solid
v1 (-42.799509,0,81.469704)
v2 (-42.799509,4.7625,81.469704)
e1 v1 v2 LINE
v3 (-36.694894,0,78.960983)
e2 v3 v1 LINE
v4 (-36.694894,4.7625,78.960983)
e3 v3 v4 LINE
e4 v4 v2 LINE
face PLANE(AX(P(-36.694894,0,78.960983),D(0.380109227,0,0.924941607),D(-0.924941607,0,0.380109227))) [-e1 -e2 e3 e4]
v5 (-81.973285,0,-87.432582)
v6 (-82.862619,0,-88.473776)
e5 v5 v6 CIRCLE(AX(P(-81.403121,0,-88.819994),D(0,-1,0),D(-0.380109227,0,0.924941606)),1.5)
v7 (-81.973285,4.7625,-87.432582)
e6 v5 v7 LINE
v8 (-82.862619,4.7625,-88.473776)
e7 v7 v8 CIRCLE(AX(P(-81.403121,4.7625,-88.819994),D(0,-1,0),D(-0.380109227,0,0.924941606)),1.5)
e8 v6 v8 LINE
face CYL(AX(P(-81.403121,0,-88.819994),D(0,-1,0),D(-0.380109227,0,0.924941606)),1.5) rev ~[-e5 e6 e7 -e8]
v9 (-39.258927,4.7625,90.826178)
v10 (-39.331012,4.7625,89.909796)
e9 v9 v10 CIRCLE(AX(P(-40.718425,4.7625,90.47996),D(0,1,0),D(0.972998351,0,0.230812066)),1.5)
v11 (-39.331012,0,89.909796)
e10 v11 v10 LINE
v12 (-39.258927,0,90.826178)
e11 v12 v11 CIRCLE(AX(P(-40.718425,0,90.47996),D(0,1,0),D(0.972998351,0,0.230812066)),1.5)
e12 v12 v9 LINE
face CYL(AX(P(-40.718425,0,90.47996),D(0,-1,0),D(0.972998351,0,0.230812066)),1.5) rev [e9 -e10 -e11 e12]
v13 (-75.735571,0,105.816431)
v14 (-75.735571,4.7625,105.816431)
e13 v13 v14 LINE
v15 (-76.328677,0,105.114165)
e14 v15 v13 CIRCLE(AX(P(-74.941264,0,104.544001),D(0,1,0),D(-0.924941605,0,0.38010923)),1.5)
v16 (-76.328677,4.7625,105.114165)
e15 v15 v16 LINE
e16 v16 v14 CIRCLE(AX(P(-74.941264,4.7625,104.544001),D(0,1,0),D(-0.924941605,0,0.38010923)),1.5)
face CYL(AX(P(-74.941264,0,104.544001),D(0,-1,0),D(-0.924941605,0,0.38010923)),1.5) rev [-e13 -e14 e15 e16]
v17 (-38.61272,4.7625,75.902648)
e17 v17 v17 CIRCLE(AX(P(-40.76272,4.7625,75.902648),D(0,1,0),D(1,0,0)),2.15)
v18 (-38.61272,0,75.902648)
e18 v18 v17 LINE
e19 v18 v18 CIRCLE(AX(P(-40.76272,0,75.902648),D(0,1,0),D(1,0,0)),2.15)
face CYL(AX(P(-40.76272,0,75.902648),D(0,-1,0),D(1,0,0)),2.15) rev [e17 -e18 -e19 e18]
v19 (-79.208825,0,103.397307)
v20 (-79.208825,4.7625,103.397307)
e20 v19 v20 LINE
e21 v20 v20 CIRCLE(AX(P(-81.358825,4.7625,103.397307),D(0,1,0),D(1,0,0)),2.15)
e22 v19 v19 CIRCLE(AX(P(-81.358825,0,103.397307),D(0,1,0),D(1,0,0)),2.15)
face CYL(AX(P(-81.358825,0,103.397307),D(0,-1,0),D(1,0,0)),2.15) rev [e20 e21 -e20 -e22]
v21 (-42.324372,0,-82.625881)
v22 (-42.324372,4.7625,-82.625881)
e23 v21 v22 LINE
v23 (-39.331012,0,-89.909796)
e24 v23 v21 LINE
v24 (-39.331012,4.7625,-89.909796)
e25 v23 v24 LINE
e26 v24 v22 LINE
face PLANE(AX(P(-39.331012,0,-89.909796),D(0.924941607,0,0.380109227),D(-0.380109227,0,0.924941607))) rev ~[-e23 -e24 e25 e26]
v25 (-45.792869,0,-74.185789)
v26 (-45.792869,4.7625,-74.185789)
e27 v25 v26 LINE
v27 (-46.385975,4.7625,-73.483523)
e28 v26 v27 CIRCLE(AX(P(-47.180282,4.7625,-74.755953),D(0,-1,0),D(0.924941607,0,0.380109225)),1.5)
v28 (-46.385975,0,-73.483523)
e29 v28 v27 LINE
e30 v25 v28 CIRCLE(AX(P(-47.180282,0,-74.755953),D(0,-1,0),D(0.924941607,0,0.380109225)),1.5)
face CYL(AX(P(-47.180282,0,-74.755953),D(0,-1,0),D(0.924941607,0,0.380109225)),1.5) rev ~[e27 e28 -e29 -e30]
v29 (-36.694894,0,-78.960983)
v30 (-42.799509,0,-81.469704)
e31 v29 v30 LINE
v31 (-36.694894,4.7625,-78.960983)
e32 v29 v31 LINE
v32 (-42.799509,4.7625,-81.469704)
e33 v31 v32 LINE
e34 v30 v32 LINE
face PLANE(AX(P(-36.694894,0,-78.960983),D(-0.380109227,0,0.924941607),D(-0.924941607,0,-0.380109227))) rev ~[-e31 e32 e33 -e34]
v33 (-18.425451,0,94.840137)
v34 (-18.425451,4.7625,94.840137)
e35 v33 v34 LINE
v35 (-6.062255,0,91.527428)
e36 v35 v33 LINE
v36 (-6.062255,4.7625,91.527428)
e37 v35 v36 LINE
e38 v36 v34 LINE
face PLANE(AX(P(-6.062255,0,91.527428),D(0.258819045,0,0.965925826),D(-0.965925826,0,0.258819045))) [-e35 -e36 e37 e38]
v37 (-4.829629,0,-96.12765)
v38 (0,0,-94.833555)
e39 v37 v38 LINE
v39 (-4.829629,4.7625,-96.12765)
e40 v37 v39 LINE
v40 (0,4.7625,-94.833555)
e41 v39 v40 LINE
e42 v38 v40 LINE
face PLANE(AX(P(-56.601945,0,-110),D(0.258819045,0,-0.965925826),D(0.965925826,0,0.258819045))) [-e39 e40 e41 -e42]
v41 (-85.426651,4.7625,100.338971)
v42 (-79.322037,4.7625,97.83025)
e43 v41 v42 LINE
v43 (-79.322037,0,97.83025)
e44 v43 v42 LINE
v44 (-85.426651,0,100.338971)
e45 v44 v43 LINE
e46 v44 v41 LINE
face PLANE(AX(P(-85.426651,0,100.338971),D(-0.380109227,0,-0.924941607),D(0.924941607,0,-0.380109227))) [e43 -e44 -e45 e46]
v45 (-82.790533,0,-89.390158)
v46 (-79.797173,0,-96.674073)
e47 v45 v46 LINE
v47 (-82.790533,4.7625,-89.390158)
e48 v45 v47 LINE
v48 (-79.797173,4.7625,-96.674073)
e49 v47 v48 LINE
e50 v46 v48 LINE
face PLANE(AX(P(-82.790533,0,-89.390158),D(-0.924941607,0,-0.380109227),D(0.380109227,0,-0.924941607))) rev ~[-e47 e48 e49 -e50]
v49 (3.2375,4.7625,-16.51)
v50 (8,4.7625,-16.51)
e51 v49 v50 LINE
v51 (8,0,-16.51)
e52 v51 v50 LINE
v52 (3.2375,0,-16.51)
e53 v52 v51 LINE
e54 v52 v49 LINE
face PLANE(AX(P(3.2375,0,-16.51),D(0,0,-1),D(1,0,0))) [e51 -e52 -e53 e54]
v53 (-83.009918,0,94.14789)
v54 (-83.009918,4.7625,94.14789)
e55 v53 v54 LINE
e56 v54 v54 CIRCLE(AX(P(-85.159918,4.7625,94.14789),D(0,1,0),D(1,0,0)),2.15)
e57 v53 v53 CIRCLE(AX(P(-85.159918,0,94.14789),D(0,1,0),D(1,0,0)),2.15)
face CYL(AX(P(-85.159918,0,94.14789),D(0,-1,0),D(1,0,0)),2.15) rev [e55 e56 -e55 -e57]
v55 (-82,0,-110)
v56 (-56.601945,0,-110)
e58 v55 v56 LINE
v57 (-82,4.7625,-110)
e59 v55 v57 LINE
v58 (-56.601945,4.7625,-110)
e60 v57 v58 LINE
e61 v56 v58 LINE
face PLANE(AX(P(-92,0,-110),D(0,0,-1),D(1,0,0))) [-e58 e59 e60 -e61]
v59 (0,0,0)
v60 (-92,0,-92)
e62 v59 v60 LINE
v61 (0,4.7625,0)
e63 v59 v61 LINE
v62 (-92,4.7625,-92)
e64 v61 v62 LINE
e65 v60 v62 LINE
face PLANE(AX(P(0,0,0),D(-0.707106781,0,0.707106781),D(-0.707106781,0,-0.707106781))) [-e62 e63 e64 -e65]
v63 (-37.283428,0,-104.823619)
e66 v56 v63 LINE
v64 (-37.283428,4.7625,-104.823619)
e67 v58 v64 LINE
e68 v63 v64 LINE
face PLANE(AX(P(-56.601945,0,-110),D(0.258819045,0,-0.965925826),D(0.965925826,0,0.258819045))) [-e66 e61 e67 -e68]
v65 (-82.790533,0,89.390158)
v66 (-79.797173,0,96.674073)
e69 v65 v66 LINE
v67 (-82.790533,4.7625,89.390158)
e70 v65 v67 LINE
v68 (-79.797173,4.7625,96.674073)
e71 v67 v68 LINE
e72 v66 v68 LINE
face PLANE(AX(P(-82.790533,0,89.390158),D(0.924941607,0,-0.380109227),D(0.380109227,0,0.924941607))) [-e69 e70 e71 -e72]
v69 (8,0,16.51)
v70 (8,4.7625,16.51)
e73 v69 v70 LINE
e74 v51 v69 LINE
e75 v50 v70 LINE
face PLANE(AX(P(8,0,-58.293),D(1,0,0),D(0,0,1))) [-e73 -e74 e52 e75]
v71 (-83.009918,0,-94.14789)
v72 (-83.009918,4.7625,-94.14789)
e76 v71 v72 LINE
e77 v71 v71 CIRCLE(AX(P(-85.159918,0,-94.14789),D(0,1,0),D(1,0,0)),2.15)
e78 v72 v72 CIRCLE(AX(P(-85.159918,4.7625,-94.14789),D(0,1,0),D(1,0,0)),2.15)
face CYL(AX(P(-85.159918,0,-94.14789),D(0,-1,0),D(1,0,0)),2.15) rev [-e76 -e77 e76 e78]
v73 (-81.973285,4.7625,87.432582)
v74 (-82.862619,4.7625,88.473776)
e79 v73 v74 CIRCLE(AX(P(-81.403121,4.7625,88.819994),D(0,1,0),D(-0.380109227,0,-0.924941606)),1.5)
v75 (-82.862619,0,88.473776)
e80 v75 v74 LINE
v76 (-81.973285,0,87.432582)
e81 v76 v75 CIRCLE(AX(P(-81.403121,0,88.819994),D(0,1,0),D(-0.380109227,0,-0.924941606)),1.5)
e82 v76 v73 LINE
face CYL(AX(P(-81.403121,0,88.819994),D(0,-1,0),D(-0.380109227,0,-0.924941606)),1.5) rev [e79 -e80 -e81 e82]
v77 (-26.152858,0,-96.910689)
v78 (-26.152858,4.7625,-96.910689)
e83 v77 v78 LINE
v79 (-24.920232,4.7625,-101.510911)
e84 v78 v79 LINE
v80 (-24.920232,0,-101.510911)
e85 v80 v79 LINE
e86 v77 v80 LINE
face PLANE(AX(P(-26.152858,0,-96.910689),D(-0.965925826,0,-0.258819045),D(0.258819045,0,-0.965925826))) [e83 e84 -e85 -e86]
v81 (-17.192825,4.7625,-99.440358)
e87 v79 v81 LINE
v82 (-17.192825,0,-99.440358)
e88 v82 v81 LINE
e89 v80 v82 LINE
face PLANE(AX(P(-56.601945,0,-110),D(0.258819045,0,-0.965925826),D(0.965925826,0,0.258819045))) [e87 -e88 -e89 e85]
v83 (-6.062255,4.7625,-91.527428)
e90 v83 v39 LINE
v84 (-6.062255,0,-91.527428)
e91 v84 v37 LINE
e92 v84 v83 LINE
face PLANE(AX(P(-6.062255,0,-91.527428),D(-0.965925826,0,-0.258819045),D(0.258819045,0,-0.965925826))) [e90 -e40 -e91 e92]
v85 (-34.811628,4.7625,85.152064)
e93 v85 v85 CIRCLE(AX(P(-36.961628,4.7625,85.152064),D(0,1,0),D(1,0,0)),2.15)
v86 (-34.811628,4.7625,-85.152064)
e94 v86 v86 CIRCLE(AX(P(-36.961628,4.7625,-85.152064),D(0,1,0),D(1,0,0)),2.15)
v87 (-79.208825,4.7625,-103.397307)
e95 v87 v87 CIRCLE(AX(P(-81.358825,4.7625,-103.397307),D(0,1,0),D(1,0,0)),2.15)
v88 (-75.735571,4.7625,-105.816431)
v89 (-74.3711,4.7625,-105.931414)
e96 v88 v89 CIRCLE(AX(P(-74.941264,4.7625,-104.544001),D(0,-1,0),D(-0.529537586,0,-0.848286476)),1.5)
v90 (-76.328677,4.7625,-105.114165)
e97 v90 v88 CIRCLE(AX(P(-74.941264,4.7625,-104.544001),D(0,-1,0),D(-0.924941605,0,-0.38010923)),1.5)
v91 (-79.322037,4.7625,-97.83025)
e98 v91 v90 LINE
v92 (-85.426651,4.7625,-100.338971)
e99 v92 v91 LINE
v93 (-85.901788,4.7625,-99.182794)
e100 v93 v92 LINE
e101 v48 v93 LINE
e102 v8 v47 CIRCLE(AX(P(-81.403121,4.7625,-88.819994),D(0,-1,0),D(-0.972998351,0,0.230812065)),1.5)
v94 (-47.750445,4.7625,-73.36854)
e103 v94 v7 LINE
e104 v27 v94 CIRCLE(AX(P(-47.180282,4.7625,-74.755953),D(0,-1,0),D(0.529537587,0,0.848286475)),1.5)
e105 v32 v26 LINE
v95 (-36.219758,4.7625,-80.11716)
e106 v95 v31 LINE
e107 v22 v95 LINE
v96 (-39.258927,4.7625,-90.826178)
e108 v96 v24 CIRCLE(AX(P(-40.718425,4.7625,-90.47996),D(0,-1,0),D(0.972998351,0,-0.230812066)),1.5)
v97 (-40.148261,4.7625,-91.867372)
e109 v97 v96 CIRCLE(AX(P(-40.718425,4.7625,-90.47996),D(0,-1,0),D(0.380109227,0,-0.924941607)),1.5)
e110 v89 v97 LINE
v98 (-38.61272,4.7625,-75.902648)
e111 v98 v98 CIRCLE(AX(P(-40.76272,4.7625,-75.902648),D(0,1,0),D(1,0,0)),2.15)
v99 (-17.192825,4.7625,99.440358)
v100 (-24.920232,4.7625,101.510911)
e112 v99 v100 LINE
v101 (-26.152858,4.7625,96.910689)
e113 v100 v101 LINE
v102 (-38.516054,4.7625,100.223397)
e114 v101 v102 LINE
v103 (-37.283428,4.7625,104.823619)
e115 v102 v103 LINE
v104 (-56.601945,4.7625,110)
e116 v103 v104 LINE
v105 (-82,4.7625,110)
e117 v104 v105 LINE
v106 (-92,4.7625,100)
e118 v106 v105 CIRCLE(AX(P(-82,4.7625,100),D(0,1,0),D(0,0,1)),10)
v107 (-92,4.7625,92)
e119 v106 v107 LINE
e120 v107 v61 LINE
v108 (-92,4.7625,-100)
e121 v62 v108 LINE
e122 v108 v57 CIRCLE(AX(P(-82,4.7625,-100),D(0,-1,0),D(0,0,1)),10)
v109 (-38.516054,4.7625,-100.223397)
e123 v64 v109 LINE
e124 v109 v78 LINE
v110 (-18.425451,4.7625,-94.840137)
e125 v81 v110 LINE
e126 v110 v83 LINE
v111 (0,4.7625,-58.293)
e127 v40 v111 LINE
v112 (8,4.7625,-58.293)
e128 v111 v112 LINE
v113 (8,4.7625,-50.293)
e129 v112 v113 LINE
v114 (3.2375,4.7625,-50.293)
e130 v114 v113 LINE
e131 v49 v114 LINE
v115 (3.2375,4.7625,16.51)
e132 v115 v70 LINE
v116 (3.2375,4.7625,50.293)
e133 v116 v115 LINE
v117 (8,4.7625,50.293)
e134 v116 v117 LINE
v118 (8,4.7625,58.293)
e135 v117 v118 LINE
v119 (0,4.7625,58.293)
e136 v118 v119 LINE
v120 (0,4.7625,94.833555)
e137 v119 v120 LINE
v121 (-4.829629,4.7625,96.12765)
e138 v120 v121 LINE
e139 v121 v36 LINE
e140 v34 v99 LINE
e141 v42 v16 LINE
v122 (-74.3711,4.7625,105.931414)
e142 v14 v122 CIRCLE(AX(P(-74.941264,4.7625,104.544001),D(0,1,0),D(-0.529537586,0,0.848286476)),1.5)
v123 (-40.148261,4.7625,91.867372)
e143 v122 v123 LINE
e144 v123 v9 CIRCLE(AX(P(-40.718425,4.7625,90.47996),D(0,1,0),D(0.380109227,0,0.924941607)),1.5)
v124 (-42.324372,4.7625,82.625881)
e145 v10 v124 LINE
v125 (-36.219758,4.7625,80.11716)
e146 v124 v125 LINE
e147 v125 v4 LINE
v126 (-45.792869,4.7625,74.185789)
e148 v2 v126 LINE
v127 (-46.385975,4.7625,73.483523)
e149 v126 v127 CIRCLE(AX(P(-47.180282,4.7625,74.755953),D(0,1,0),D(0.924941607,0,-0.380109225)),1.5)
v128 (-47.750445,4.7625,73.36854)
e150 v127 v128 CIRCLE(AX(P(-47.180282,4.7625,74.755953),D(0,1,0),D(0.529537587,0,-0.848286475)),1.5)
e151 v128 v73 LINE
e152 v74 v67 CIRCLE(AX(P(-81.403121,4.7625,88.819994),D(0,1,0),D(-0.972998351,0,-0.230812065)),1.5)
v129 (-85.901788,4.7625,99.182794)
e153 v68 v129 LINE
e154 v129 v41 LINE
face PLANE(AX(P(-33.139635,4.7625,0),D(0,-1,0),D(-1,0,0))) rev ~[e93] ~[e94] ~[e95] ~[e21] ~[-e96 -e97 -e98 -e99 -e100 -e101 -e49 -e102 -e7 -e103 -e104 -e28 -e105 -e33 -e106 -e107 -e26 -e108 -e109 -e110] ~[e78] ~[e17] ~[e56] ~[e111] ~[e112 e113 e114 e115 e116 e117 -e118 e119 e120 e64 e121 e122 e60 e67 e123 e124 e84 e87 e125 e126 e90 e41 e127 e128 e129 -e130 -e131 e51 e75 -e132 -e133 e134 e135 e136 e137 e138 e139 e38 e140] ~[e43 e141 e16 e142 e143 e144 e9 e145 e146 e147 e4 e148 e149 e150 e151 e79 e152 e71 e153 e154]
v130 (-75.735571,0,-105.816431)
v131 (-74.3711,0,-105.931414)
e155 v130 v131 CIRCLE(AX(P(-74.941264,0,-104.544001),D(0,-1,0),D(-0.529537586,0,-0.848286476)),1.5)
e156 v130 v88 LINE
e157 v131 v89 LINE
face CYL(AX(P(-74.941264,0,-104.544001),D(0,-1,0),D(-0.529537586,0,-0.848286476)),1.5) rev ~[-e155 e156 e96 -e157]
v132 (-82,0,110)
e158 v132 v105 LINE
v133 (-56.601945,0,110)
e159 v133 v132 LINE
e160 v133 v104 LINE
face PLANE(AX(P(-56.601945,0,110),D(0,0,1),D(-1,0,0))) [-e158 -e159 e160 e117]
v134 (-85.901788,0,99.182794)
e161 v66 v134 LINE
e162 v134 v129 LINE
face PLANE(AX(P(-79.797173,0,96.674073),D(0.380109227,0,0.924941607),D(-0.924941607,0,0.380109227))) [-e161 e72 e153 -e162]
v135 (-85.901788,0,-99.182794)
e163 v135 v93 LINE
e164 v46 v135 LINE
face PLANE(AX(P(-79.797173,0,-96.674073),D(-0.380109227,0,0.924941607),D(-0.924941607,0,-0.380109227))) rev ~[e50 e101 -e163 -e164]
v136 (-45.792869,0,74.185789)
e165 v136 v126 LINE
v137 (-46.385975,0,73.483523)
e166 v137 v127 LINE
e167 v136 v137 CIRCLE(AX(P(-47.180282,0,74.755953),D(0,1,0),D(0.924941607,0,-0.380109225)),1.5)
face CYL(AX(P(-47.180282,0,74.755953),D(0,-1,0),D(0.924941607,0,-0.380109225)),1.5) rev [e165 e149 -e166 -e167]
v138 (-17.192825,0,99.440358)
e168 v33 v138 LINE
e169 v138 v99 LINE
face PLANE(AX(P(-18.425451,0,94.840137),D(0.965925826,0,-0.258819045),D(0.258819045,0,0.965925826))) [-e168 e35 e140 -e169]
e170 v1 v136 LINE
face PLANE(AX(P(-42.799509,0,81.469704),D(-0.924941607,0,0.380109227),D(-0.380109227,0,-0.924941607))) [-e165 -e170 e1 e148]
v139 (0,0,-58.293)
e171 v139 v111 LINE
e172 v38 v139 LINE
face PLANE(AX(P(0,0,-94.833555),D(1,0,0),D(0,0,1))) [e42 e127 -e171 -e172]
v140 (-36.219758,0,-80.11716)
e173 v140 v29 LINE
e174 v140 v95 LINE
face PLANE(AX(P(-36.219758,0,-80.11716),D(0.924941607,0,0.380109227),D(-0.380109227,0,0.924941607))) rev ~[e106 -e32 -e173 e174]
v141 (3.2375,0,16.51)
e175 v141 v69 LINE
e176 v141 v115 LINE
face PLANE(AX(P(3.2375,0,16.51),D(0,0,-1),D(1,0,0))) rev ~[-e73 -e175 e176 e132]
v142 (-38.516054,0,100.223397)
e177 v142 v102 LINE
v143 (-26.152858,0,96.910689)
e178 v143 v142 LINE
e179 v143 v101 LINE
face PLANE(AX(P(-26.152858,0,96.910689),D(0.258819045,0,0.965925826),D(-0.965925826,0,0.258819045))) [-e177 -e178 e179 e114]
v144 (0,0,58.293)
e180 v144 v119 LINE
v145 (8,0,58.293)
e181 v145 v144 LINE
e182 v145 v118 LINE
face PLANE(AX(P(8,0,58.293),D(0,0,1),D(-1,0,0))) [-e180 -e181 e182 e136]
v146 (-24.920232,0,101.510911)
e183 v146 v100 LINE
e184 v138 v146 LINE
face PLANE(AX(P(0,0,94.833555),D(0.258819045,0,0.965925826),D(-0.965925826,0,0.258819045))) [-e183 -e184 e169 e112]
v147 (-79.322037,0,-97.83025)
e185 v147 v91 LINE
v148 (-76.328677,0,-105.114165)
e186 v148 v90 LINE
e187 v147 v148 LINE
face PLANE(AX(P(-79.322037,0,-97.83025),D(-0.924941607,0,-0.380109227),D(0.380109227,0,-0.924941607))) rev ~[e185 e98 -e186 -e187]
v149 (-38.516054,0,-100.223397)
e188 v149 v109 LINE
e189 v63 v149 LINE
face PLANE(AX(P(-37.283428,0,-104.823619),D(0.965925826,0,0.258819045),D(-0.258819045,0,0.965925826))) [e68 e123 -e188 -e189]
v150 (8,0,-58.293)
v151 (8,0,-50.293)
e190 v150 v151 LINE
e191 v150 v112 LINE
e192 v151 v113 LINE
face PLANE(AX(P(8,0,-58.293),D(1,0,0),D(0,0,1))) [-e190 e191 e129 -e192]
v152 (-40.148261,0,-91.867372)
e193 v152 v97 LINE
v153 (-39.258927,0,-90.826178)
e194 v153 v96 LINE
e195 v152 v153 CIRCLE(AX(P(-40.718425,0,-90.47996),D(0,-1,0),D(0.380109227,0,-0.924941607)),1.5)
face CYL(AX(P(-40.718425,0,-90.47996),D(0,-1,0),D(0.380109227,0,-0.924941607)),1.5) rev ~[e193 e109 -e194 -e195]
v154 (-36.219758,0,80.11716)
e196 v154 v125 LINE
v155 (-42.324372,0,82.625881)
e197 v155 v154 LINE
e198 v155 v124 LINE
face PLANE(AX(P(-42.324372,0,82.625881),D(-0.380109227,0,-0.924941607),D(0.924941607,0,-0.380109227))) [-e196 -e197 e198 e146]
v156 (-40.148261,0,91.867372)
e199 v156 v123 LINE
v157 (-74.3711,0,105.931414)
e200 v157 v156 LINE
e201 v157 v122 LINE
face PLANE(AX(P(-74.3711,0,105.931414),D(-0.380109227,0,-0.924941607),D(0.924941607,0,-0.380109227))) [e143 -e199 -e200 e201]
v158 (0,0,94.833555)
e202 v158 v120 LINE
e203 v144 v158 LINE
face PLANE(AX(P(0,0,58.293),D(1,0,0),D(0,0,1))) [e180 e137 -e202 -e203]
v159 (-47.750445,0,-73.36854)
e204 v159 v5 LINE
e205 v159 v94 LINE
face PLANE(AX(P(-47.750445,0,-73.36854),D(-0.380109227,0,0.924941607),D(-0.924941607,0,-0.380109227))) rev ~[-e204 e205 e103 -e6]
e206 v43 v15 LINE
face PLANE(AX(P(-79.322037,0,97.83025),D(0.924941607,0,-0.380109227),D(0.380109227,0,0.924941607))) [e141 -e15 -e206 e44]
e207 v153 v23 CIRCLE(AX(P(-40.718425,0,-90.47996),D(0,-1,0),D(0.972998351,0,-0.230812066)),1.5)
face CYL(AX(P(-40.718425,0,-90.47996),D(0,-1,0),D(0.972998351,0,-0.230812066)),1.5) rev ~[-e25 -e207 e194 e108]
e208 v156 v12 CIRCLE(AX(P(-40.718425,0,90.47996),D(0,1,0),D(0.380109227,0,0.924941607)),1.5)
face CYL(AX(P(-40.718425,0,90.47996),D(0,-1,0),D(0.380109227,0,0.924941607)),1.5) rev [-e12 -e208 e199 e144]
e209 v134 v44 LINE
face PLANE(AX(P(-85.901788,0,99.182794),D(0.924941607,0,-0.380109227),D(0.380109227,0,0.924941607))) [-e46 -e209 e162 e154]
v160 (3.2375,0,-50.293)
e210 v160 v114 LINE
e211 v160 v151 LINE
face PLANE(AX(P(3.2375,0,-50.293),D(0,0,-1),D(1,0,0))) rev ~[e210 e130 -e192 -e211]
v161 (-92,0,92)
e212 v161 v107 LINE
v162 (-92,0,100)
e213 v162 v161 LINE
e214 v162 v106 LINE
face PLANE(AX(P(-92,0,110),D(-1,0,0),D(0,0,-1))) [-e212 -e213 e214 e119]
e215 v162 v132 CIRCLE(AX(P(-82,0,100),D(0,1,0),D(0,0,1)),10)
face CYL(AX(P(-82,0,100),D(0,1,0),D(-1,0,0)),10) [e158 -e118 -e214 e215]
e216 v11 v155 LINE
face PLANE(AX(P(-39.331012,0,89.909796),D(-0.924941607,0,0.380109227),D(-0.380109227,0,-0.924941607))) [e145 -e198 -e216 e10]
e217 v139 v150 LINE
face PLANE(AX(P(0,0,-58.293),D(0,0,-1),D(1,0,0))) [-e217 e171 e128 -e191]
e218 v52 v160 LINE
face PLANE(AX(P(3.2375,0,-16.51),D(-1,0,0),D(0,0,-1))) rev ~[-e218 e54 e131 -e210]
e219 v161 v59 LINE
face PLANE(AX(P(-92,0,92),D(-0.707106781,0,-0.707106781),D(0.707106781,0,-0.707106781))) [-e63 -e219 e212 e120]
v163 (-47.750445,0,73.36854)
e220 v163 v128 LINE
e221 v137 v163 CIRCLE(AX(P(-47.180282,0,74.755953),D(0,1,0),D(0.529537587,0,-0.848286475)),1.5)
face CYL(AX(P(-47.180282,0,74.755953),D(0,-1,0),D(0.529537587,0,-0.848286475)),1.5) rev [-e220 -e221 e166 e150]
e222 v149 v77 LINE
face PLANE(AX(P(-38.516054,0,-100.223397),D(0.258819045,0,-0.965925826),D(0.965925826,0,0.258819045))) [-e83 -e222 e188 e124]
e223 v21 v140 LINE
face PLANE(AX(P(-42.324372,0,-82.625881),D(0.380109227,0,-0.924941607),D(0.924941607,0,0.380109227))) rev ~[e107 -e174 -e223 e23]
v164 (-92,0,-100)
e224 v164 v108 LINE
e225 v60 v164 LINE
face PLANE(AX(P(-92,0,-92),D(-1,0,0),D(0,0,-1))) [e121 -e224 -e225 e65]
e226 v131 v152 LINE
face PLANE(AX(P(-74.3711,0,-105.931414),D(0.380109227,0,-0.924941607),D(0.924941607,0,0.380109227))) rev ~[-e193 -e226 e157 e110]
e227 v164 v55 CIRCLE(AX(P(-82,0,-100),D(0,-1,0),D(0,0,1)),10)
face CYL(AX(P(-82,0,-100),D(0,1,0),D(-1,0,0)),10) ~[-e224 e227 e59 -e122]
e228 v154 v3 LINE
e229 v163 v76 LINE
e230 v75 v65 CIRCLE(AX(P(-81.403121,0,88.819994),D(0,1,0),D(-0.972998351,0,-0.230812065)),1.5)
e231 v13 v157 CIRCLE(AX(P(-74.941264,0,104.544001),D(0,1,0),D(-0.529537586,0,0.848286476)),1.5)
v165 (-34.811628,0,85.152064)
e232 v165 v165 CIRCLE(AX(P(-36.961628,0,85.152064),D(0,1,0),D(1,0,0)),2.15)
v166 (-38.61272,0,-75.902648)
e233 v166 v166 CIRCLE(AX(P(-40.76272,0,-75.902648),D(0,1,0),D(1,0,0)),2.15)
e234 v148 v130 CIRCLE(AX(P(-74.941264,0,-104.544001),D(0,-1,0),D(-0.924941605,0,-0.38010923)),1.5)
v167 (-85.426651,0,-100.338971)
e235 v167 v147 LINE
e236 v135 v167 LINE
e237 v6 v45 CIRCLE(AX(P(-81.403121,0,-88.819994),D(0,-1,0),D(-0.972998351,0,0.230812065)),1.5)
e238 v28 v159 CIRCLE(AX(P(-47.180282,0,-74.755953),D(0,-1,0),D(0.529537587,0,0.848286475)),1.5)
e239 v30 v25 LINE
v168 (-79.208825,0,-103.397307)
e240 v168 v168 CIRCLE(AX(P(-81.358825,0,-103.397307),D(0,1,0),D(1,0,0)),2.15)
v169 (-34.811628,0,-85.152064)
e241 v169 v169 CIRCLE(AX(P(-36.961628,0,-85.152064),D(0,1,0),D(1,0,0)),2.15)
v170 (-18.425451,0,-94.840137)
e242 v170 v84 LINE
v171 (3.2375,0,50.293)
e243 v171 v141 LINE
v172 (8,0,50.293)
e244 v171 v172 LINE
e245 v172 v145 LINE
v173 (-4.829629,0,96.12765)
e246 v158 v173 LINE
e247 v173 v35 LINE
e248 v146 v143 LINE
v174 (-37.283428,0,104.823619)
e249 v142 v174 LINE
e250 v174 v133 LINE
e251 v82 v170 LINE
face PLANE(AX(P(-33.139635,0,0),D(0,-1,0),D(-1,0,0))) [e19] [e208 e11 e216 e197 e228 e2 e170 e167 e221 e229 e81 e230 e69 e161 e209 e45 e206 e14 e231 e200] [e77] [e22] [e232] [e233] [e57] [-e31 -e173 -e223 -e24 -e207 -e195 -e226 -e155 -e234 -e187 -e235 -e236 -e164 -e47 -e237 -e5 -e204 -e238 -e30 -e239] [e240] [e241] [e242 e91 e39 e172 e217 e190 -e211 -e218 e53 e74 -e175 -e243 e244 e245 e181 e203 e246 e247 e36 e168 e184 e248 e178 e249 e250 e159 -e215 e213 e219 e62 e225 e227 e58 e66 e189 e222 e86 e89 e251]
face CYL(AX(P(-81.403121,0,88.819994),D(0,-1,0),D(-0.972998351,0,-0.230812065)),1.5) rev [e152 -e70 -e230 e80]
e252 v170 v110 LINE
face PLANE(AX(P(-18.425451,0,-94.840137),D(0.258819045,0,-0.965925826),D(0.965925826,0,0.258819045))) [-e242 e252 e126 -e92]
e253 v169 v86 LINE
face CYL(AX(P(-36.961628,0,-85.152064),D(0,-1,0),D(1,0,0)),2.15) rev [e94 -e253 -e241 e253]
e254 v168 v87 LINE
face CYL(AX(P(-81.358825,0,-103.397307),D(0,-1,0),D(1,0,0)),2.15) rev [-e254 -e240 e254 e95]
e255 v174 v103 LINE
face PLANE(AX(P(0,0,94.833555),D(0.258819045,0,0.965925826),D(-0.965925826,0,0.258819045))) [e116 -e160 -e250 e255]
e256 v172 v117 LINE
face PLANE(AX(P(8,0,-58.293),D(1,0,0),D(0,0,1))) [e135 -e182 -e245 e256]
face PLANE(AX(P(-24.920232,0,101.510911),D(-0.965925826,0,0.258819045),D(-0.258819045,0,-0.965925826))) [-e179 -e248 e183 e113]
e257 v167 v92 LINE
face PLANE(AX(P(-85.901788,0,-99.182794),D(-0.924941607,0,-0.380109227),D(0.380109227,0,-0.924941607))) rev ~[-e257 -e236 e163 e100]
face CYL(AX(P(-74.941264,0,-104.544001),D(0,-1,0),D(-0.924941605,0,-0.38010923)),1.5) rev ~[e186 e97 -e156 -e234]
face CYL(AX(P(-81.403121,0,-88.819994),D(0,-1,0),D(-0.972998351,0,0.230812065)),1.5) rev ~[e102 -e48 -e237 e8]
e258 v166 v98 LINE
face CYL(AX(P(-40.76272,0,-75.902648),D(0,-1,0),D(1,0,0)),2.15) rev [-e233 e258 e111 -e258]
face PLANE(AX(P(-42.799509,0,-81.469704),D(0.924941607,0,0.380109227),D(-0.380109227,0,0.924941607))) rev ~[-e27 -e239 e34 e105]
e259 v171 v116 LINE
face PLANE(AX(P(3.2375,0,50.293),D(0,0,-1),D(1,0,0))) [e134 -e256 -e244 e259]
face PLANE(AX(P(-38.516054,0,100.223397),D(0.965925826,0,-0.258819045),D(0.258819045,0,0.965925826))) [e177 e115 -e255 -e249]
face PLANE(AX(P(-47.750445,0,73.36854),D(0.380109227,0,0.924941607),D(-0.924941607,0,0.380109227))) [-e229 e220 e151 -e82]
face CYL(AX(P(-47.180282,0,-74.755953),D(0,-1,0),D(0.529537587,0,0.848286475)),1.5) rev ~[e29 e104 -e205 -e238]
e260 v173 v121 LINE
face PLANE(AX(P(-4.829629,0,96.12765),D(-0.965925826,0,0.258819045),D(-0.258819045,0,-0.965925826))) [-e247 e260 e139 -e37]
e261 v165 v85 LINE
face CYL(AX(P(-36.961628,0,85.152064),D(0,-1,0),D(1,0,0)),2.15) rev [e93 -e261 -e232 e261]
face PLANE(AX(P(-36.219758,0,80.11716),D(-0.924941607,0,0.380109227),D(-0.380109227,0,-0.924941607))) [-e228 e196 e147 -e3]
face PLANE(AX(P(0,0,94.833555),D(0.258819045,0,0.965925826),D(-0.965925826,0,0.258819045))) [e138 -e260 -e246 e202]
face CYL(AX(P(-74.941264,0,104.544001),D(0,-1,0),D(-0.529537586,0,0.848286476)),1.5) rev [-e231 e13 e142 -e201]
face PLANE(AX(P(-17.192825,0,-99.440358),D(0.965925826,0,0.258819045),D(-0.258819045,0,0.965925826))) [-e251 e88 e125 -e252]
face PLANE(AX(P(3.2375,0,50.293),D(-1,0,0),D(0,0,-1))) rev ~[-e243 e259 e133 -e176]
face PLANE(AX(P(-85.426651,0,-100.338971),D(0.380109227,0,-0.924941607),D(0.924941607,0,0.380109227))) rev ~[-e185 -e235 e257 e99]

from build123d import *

# Parameters (mm, degrees)
SKETCH1_R           = 2.15
BOSS_EXTRUDE1_DEPTH = 4.7625
FILLET1_R           = 10
SKETCH2_W           = 4.7625
SKETCH2_H           = 33.783
CUT_EXTRUDE1_DEPTH  = 10


with BuildPart() as part:
    # Sketch1 → Boss-Extrude1 (new body)
    with BuildSketch(Plane(origin=(0, 0, 0), x_dir=(1, 0, 0), z_dir=(0, 1, 0))):
        Polygon((0, 0), (-92, 92), (-92, 110), (-56.601944845, 110), (0, 94.833554589), (0, 58.293), (8, 58.293), (8, -58.293), (0, -58.293), (0, -94.833554589), (-56.601944845, -110), (-92, -110), (-92, -92), align=None)
        with Locations((-85.159917522, 94.147890435)):
            Circle(SKETCH1_R, mode=Mode.SUBTRACT)
        with Locations((-81.358825255, 103.397306502)):
            Circle(SKETCH1_R, mode=Mode.SUBTRACT)
        with Locations((-36.961628134, 85.152063619)):
            Circle(SKETCH1_R, mode=Mode.SUBTRACT)
        with Locations((-40.762720402, 75.902647552)):
            Circle(SKETCH1_R, mode=Mode.SUBTRACT)
        with Locations((-40.762720402, -75.902647552)):
            Circle(SKETCH1_R, mode=Mode.SUBTRACT)
        with Locations((-36.961628134, -85.152063619)):
            Circle(SKETCH1_R, mode=Mode.SUBTRACT)
        with Locations((-81.358825255, -103.397306502)):
            Circle(SKETCH1_R, mode=Mode.SUBTRACT)
        with Locations((-85.159917522, -94.147890435)):
            Circle(SKETCH1_R, mode=Mode.SUBTRACT)
        with BuildLine():
            Line((-79.322036695, 97.830250065), (-76.328676535, 105.114165218))
            ThreePointArc((-76.328676535, 105.114165218), (-76.087243425, 105.511850251), (-75.735570504, 105.816431091))
            ThreePointArc((-75.735570504, 105.816431091), (-75.067221358, 106.038703614), (-74.371100284, 105.931413788))
            Line((-74.371100284, 105.931413788), (-40.148260837, 91.867372399))
            ThreePointArc((-40.148260837, 91.867372399), (-39.577853455, 91.454176231), (-39.258927152, 90.826178087))
            ThreePointArc((-39.258927152, 90.826178087), (-39.223044121, 90.362329254), (-39.331012268, 89.909796149))
            Line((-39.331012268, 89.909796149), (-42.324372428, 82.625880996))
            Line((-42.324372428, 82.625880996), (-36.219757824, 80.1171601))
            Line((-36.219757824, 80.1171601), (-36.694894357, 78.960983092))
            Line((-36.694894357, 78.960983092), (-42.799508961, 81.469703988))
            Line((-42.799508961, 81.469703988), (-45.792869122, 74.185788836))
            ThreePointArc((-45.792869122, 74.185788836), (-46.034302231, 73.788103802), (-46.385975153, 73.483522962))
            ThreePointArc((-46.385975153, 73.483522962), (-47.054324299, 73.261250439), (-47.750445372, 73.368540266))
            Line((-47.750445372, 73.368540266), (-81.973284819, 87.432581654))
            ThreePointArc((-81.973284819, 87.432581654), (-82.543692202, 87.845777823), (-82.862618505, 88.473775966))
            ThreePointArc((-82.862618505, 88.473775966), (-82.898501536, 88.937624799), (-82.790533389, 89.390157905))
            Line((-82.790533389, 89.390157905), (-79.797173228, 96.674073057))
            Line((-79.797173228, 96.674073057), (-85.901787832, 99.182793954))
            Line((-85.901787832, 99.182793954), (-85.426651299, 100.338970962))
            Line((-85.426651299, 100.338970962), (-79.322036695, 97.830250065))
        make_face(mode=Mode.SUBTRACT)
        with BuildLine():
            Line((-47.750445372, -73.368540266), (-81.973284819, -87.432581654))
            ThreePointArc((-81.973284819, -87.432581654), (-82.543692202, -87.845777823), (-82.862618505, -88.473775966))
            ThreePointArc((-82.862618505, -88.473775966), (-82.898501536, -88.937624799), (-82.790533389, -89.390157905))
            Line((-82.790533389, -89.390157905), (-79.797173228, -96.674073057))
            Line((-79.797173228, -96.674073057), (-85.901787832, -99.182793954))
            Line((-85.901787832, -99.182793954), (-85.426651299, -100.338970962))
            Line((-85.426651299, -100.338970962), (-79.322036695, -97.830250065))
            Line((-79.322036695, -97.830250065), (-76.328676535, -105.114165218))
            ThreePointArc((-76.328676535, -105.114165218), (-76.087243425, -105.511850251), (-75.735570504, -105.816431091))
            ThreePointArc((-75.735570504, -105.816431091), (-75.067221358, -106.038703614), (-74.371100284, -105.931413788))
            Line((-74.371100284, -105.931413788), (-40.148260837, -91.867372399))
            ThreePointArc((-40.148260837, -91.867372399), (-39.577853455, -91.454176231), (-39.258927152, -90.826178087))
            ThreePointArc((-39.258927152, -90.826178087), (-39.223044121, -90.362329254), (-39.331012268, -89.909796149))
            Line((-39.331012268, -89.909796149), (-42.324372428, -82.625880996))
            Line((-42.324372428, -82.625880996), (-36.219757824, -80.1171601))
            Line((-36.219757824, -80.1171601), (-36.694894357, -78.960983092))
            Line((-36.694894357, -78.960983092), (-42.799508961, -81.469703988))
            Line((-42.799508961, -81.469703988), (-45.792869122, -74.185788836))
            ThreePointArc((-45.792869122, -74.185788836), (-46.034302231, -73.788103802), (-46.385975153, -73.483522962))
            ThreePointArc((-46.385975153, -73.483522962), (-47.054324299, -73.261250439), (-47.750445372, -73.368540266))
        make_face(mode=Mode.SUBTRACT)
    extrude(amount=BOSS_EXTRUDE1_DEPTH)

    # Fillet1
    fillet1_edges = [part.edges().sort_by_distance(p)[0] for p in [
        (-92, 2.38125, -110),
        (-92, 2.38125, 110),
    ]]
    fillet(fillet1_edges, radius=FILLET1_R)

    # Sketch2 → Cut-Extrude1 (cut)
    with BuildSketch(Plane(origin=(0, 0, 0), x_dir=(1, 0, 0), z_dir=(0, 1, 0))):
        Polygon((-4.829629131, 96.127649814), (-17.19282542, 99.440358276), (-18.425451123, 94.840136528), (-6.062254834, 91.527428067), align=None)
        Polygon((-24.920232031, 101.510910637), (-37.283428319, 104.823619098), (-38.516054022, 100.22339735), (-26.152857733, 96.910688889), align=None)
        Polygon((-26.152857733, -96.910688889), (-38.516054022, -100.22339735), (-37.283428319, -104.823619098), (-24.920232031, -101.510910637), align=None)
        Polygon((-6.062254834, -91.527428067), (-18.425451123, -94.840136528), (-17.19282542, -99.440358276), (-4.829629131, -96.127649814), align=None)
        with Locations((5.61875, 33.4015)):
            Rectangle(SKETCH2_W, SKETCH2_H)
        with Locations((5.61875, -33.4015)):
            Rectangle(SKETCH2_W, SKETCH2_H)
    extrude(amount=CUT_EXTRUDE1_DEPTH, mode=Mode.SUBTRACT)


solid = part.part
